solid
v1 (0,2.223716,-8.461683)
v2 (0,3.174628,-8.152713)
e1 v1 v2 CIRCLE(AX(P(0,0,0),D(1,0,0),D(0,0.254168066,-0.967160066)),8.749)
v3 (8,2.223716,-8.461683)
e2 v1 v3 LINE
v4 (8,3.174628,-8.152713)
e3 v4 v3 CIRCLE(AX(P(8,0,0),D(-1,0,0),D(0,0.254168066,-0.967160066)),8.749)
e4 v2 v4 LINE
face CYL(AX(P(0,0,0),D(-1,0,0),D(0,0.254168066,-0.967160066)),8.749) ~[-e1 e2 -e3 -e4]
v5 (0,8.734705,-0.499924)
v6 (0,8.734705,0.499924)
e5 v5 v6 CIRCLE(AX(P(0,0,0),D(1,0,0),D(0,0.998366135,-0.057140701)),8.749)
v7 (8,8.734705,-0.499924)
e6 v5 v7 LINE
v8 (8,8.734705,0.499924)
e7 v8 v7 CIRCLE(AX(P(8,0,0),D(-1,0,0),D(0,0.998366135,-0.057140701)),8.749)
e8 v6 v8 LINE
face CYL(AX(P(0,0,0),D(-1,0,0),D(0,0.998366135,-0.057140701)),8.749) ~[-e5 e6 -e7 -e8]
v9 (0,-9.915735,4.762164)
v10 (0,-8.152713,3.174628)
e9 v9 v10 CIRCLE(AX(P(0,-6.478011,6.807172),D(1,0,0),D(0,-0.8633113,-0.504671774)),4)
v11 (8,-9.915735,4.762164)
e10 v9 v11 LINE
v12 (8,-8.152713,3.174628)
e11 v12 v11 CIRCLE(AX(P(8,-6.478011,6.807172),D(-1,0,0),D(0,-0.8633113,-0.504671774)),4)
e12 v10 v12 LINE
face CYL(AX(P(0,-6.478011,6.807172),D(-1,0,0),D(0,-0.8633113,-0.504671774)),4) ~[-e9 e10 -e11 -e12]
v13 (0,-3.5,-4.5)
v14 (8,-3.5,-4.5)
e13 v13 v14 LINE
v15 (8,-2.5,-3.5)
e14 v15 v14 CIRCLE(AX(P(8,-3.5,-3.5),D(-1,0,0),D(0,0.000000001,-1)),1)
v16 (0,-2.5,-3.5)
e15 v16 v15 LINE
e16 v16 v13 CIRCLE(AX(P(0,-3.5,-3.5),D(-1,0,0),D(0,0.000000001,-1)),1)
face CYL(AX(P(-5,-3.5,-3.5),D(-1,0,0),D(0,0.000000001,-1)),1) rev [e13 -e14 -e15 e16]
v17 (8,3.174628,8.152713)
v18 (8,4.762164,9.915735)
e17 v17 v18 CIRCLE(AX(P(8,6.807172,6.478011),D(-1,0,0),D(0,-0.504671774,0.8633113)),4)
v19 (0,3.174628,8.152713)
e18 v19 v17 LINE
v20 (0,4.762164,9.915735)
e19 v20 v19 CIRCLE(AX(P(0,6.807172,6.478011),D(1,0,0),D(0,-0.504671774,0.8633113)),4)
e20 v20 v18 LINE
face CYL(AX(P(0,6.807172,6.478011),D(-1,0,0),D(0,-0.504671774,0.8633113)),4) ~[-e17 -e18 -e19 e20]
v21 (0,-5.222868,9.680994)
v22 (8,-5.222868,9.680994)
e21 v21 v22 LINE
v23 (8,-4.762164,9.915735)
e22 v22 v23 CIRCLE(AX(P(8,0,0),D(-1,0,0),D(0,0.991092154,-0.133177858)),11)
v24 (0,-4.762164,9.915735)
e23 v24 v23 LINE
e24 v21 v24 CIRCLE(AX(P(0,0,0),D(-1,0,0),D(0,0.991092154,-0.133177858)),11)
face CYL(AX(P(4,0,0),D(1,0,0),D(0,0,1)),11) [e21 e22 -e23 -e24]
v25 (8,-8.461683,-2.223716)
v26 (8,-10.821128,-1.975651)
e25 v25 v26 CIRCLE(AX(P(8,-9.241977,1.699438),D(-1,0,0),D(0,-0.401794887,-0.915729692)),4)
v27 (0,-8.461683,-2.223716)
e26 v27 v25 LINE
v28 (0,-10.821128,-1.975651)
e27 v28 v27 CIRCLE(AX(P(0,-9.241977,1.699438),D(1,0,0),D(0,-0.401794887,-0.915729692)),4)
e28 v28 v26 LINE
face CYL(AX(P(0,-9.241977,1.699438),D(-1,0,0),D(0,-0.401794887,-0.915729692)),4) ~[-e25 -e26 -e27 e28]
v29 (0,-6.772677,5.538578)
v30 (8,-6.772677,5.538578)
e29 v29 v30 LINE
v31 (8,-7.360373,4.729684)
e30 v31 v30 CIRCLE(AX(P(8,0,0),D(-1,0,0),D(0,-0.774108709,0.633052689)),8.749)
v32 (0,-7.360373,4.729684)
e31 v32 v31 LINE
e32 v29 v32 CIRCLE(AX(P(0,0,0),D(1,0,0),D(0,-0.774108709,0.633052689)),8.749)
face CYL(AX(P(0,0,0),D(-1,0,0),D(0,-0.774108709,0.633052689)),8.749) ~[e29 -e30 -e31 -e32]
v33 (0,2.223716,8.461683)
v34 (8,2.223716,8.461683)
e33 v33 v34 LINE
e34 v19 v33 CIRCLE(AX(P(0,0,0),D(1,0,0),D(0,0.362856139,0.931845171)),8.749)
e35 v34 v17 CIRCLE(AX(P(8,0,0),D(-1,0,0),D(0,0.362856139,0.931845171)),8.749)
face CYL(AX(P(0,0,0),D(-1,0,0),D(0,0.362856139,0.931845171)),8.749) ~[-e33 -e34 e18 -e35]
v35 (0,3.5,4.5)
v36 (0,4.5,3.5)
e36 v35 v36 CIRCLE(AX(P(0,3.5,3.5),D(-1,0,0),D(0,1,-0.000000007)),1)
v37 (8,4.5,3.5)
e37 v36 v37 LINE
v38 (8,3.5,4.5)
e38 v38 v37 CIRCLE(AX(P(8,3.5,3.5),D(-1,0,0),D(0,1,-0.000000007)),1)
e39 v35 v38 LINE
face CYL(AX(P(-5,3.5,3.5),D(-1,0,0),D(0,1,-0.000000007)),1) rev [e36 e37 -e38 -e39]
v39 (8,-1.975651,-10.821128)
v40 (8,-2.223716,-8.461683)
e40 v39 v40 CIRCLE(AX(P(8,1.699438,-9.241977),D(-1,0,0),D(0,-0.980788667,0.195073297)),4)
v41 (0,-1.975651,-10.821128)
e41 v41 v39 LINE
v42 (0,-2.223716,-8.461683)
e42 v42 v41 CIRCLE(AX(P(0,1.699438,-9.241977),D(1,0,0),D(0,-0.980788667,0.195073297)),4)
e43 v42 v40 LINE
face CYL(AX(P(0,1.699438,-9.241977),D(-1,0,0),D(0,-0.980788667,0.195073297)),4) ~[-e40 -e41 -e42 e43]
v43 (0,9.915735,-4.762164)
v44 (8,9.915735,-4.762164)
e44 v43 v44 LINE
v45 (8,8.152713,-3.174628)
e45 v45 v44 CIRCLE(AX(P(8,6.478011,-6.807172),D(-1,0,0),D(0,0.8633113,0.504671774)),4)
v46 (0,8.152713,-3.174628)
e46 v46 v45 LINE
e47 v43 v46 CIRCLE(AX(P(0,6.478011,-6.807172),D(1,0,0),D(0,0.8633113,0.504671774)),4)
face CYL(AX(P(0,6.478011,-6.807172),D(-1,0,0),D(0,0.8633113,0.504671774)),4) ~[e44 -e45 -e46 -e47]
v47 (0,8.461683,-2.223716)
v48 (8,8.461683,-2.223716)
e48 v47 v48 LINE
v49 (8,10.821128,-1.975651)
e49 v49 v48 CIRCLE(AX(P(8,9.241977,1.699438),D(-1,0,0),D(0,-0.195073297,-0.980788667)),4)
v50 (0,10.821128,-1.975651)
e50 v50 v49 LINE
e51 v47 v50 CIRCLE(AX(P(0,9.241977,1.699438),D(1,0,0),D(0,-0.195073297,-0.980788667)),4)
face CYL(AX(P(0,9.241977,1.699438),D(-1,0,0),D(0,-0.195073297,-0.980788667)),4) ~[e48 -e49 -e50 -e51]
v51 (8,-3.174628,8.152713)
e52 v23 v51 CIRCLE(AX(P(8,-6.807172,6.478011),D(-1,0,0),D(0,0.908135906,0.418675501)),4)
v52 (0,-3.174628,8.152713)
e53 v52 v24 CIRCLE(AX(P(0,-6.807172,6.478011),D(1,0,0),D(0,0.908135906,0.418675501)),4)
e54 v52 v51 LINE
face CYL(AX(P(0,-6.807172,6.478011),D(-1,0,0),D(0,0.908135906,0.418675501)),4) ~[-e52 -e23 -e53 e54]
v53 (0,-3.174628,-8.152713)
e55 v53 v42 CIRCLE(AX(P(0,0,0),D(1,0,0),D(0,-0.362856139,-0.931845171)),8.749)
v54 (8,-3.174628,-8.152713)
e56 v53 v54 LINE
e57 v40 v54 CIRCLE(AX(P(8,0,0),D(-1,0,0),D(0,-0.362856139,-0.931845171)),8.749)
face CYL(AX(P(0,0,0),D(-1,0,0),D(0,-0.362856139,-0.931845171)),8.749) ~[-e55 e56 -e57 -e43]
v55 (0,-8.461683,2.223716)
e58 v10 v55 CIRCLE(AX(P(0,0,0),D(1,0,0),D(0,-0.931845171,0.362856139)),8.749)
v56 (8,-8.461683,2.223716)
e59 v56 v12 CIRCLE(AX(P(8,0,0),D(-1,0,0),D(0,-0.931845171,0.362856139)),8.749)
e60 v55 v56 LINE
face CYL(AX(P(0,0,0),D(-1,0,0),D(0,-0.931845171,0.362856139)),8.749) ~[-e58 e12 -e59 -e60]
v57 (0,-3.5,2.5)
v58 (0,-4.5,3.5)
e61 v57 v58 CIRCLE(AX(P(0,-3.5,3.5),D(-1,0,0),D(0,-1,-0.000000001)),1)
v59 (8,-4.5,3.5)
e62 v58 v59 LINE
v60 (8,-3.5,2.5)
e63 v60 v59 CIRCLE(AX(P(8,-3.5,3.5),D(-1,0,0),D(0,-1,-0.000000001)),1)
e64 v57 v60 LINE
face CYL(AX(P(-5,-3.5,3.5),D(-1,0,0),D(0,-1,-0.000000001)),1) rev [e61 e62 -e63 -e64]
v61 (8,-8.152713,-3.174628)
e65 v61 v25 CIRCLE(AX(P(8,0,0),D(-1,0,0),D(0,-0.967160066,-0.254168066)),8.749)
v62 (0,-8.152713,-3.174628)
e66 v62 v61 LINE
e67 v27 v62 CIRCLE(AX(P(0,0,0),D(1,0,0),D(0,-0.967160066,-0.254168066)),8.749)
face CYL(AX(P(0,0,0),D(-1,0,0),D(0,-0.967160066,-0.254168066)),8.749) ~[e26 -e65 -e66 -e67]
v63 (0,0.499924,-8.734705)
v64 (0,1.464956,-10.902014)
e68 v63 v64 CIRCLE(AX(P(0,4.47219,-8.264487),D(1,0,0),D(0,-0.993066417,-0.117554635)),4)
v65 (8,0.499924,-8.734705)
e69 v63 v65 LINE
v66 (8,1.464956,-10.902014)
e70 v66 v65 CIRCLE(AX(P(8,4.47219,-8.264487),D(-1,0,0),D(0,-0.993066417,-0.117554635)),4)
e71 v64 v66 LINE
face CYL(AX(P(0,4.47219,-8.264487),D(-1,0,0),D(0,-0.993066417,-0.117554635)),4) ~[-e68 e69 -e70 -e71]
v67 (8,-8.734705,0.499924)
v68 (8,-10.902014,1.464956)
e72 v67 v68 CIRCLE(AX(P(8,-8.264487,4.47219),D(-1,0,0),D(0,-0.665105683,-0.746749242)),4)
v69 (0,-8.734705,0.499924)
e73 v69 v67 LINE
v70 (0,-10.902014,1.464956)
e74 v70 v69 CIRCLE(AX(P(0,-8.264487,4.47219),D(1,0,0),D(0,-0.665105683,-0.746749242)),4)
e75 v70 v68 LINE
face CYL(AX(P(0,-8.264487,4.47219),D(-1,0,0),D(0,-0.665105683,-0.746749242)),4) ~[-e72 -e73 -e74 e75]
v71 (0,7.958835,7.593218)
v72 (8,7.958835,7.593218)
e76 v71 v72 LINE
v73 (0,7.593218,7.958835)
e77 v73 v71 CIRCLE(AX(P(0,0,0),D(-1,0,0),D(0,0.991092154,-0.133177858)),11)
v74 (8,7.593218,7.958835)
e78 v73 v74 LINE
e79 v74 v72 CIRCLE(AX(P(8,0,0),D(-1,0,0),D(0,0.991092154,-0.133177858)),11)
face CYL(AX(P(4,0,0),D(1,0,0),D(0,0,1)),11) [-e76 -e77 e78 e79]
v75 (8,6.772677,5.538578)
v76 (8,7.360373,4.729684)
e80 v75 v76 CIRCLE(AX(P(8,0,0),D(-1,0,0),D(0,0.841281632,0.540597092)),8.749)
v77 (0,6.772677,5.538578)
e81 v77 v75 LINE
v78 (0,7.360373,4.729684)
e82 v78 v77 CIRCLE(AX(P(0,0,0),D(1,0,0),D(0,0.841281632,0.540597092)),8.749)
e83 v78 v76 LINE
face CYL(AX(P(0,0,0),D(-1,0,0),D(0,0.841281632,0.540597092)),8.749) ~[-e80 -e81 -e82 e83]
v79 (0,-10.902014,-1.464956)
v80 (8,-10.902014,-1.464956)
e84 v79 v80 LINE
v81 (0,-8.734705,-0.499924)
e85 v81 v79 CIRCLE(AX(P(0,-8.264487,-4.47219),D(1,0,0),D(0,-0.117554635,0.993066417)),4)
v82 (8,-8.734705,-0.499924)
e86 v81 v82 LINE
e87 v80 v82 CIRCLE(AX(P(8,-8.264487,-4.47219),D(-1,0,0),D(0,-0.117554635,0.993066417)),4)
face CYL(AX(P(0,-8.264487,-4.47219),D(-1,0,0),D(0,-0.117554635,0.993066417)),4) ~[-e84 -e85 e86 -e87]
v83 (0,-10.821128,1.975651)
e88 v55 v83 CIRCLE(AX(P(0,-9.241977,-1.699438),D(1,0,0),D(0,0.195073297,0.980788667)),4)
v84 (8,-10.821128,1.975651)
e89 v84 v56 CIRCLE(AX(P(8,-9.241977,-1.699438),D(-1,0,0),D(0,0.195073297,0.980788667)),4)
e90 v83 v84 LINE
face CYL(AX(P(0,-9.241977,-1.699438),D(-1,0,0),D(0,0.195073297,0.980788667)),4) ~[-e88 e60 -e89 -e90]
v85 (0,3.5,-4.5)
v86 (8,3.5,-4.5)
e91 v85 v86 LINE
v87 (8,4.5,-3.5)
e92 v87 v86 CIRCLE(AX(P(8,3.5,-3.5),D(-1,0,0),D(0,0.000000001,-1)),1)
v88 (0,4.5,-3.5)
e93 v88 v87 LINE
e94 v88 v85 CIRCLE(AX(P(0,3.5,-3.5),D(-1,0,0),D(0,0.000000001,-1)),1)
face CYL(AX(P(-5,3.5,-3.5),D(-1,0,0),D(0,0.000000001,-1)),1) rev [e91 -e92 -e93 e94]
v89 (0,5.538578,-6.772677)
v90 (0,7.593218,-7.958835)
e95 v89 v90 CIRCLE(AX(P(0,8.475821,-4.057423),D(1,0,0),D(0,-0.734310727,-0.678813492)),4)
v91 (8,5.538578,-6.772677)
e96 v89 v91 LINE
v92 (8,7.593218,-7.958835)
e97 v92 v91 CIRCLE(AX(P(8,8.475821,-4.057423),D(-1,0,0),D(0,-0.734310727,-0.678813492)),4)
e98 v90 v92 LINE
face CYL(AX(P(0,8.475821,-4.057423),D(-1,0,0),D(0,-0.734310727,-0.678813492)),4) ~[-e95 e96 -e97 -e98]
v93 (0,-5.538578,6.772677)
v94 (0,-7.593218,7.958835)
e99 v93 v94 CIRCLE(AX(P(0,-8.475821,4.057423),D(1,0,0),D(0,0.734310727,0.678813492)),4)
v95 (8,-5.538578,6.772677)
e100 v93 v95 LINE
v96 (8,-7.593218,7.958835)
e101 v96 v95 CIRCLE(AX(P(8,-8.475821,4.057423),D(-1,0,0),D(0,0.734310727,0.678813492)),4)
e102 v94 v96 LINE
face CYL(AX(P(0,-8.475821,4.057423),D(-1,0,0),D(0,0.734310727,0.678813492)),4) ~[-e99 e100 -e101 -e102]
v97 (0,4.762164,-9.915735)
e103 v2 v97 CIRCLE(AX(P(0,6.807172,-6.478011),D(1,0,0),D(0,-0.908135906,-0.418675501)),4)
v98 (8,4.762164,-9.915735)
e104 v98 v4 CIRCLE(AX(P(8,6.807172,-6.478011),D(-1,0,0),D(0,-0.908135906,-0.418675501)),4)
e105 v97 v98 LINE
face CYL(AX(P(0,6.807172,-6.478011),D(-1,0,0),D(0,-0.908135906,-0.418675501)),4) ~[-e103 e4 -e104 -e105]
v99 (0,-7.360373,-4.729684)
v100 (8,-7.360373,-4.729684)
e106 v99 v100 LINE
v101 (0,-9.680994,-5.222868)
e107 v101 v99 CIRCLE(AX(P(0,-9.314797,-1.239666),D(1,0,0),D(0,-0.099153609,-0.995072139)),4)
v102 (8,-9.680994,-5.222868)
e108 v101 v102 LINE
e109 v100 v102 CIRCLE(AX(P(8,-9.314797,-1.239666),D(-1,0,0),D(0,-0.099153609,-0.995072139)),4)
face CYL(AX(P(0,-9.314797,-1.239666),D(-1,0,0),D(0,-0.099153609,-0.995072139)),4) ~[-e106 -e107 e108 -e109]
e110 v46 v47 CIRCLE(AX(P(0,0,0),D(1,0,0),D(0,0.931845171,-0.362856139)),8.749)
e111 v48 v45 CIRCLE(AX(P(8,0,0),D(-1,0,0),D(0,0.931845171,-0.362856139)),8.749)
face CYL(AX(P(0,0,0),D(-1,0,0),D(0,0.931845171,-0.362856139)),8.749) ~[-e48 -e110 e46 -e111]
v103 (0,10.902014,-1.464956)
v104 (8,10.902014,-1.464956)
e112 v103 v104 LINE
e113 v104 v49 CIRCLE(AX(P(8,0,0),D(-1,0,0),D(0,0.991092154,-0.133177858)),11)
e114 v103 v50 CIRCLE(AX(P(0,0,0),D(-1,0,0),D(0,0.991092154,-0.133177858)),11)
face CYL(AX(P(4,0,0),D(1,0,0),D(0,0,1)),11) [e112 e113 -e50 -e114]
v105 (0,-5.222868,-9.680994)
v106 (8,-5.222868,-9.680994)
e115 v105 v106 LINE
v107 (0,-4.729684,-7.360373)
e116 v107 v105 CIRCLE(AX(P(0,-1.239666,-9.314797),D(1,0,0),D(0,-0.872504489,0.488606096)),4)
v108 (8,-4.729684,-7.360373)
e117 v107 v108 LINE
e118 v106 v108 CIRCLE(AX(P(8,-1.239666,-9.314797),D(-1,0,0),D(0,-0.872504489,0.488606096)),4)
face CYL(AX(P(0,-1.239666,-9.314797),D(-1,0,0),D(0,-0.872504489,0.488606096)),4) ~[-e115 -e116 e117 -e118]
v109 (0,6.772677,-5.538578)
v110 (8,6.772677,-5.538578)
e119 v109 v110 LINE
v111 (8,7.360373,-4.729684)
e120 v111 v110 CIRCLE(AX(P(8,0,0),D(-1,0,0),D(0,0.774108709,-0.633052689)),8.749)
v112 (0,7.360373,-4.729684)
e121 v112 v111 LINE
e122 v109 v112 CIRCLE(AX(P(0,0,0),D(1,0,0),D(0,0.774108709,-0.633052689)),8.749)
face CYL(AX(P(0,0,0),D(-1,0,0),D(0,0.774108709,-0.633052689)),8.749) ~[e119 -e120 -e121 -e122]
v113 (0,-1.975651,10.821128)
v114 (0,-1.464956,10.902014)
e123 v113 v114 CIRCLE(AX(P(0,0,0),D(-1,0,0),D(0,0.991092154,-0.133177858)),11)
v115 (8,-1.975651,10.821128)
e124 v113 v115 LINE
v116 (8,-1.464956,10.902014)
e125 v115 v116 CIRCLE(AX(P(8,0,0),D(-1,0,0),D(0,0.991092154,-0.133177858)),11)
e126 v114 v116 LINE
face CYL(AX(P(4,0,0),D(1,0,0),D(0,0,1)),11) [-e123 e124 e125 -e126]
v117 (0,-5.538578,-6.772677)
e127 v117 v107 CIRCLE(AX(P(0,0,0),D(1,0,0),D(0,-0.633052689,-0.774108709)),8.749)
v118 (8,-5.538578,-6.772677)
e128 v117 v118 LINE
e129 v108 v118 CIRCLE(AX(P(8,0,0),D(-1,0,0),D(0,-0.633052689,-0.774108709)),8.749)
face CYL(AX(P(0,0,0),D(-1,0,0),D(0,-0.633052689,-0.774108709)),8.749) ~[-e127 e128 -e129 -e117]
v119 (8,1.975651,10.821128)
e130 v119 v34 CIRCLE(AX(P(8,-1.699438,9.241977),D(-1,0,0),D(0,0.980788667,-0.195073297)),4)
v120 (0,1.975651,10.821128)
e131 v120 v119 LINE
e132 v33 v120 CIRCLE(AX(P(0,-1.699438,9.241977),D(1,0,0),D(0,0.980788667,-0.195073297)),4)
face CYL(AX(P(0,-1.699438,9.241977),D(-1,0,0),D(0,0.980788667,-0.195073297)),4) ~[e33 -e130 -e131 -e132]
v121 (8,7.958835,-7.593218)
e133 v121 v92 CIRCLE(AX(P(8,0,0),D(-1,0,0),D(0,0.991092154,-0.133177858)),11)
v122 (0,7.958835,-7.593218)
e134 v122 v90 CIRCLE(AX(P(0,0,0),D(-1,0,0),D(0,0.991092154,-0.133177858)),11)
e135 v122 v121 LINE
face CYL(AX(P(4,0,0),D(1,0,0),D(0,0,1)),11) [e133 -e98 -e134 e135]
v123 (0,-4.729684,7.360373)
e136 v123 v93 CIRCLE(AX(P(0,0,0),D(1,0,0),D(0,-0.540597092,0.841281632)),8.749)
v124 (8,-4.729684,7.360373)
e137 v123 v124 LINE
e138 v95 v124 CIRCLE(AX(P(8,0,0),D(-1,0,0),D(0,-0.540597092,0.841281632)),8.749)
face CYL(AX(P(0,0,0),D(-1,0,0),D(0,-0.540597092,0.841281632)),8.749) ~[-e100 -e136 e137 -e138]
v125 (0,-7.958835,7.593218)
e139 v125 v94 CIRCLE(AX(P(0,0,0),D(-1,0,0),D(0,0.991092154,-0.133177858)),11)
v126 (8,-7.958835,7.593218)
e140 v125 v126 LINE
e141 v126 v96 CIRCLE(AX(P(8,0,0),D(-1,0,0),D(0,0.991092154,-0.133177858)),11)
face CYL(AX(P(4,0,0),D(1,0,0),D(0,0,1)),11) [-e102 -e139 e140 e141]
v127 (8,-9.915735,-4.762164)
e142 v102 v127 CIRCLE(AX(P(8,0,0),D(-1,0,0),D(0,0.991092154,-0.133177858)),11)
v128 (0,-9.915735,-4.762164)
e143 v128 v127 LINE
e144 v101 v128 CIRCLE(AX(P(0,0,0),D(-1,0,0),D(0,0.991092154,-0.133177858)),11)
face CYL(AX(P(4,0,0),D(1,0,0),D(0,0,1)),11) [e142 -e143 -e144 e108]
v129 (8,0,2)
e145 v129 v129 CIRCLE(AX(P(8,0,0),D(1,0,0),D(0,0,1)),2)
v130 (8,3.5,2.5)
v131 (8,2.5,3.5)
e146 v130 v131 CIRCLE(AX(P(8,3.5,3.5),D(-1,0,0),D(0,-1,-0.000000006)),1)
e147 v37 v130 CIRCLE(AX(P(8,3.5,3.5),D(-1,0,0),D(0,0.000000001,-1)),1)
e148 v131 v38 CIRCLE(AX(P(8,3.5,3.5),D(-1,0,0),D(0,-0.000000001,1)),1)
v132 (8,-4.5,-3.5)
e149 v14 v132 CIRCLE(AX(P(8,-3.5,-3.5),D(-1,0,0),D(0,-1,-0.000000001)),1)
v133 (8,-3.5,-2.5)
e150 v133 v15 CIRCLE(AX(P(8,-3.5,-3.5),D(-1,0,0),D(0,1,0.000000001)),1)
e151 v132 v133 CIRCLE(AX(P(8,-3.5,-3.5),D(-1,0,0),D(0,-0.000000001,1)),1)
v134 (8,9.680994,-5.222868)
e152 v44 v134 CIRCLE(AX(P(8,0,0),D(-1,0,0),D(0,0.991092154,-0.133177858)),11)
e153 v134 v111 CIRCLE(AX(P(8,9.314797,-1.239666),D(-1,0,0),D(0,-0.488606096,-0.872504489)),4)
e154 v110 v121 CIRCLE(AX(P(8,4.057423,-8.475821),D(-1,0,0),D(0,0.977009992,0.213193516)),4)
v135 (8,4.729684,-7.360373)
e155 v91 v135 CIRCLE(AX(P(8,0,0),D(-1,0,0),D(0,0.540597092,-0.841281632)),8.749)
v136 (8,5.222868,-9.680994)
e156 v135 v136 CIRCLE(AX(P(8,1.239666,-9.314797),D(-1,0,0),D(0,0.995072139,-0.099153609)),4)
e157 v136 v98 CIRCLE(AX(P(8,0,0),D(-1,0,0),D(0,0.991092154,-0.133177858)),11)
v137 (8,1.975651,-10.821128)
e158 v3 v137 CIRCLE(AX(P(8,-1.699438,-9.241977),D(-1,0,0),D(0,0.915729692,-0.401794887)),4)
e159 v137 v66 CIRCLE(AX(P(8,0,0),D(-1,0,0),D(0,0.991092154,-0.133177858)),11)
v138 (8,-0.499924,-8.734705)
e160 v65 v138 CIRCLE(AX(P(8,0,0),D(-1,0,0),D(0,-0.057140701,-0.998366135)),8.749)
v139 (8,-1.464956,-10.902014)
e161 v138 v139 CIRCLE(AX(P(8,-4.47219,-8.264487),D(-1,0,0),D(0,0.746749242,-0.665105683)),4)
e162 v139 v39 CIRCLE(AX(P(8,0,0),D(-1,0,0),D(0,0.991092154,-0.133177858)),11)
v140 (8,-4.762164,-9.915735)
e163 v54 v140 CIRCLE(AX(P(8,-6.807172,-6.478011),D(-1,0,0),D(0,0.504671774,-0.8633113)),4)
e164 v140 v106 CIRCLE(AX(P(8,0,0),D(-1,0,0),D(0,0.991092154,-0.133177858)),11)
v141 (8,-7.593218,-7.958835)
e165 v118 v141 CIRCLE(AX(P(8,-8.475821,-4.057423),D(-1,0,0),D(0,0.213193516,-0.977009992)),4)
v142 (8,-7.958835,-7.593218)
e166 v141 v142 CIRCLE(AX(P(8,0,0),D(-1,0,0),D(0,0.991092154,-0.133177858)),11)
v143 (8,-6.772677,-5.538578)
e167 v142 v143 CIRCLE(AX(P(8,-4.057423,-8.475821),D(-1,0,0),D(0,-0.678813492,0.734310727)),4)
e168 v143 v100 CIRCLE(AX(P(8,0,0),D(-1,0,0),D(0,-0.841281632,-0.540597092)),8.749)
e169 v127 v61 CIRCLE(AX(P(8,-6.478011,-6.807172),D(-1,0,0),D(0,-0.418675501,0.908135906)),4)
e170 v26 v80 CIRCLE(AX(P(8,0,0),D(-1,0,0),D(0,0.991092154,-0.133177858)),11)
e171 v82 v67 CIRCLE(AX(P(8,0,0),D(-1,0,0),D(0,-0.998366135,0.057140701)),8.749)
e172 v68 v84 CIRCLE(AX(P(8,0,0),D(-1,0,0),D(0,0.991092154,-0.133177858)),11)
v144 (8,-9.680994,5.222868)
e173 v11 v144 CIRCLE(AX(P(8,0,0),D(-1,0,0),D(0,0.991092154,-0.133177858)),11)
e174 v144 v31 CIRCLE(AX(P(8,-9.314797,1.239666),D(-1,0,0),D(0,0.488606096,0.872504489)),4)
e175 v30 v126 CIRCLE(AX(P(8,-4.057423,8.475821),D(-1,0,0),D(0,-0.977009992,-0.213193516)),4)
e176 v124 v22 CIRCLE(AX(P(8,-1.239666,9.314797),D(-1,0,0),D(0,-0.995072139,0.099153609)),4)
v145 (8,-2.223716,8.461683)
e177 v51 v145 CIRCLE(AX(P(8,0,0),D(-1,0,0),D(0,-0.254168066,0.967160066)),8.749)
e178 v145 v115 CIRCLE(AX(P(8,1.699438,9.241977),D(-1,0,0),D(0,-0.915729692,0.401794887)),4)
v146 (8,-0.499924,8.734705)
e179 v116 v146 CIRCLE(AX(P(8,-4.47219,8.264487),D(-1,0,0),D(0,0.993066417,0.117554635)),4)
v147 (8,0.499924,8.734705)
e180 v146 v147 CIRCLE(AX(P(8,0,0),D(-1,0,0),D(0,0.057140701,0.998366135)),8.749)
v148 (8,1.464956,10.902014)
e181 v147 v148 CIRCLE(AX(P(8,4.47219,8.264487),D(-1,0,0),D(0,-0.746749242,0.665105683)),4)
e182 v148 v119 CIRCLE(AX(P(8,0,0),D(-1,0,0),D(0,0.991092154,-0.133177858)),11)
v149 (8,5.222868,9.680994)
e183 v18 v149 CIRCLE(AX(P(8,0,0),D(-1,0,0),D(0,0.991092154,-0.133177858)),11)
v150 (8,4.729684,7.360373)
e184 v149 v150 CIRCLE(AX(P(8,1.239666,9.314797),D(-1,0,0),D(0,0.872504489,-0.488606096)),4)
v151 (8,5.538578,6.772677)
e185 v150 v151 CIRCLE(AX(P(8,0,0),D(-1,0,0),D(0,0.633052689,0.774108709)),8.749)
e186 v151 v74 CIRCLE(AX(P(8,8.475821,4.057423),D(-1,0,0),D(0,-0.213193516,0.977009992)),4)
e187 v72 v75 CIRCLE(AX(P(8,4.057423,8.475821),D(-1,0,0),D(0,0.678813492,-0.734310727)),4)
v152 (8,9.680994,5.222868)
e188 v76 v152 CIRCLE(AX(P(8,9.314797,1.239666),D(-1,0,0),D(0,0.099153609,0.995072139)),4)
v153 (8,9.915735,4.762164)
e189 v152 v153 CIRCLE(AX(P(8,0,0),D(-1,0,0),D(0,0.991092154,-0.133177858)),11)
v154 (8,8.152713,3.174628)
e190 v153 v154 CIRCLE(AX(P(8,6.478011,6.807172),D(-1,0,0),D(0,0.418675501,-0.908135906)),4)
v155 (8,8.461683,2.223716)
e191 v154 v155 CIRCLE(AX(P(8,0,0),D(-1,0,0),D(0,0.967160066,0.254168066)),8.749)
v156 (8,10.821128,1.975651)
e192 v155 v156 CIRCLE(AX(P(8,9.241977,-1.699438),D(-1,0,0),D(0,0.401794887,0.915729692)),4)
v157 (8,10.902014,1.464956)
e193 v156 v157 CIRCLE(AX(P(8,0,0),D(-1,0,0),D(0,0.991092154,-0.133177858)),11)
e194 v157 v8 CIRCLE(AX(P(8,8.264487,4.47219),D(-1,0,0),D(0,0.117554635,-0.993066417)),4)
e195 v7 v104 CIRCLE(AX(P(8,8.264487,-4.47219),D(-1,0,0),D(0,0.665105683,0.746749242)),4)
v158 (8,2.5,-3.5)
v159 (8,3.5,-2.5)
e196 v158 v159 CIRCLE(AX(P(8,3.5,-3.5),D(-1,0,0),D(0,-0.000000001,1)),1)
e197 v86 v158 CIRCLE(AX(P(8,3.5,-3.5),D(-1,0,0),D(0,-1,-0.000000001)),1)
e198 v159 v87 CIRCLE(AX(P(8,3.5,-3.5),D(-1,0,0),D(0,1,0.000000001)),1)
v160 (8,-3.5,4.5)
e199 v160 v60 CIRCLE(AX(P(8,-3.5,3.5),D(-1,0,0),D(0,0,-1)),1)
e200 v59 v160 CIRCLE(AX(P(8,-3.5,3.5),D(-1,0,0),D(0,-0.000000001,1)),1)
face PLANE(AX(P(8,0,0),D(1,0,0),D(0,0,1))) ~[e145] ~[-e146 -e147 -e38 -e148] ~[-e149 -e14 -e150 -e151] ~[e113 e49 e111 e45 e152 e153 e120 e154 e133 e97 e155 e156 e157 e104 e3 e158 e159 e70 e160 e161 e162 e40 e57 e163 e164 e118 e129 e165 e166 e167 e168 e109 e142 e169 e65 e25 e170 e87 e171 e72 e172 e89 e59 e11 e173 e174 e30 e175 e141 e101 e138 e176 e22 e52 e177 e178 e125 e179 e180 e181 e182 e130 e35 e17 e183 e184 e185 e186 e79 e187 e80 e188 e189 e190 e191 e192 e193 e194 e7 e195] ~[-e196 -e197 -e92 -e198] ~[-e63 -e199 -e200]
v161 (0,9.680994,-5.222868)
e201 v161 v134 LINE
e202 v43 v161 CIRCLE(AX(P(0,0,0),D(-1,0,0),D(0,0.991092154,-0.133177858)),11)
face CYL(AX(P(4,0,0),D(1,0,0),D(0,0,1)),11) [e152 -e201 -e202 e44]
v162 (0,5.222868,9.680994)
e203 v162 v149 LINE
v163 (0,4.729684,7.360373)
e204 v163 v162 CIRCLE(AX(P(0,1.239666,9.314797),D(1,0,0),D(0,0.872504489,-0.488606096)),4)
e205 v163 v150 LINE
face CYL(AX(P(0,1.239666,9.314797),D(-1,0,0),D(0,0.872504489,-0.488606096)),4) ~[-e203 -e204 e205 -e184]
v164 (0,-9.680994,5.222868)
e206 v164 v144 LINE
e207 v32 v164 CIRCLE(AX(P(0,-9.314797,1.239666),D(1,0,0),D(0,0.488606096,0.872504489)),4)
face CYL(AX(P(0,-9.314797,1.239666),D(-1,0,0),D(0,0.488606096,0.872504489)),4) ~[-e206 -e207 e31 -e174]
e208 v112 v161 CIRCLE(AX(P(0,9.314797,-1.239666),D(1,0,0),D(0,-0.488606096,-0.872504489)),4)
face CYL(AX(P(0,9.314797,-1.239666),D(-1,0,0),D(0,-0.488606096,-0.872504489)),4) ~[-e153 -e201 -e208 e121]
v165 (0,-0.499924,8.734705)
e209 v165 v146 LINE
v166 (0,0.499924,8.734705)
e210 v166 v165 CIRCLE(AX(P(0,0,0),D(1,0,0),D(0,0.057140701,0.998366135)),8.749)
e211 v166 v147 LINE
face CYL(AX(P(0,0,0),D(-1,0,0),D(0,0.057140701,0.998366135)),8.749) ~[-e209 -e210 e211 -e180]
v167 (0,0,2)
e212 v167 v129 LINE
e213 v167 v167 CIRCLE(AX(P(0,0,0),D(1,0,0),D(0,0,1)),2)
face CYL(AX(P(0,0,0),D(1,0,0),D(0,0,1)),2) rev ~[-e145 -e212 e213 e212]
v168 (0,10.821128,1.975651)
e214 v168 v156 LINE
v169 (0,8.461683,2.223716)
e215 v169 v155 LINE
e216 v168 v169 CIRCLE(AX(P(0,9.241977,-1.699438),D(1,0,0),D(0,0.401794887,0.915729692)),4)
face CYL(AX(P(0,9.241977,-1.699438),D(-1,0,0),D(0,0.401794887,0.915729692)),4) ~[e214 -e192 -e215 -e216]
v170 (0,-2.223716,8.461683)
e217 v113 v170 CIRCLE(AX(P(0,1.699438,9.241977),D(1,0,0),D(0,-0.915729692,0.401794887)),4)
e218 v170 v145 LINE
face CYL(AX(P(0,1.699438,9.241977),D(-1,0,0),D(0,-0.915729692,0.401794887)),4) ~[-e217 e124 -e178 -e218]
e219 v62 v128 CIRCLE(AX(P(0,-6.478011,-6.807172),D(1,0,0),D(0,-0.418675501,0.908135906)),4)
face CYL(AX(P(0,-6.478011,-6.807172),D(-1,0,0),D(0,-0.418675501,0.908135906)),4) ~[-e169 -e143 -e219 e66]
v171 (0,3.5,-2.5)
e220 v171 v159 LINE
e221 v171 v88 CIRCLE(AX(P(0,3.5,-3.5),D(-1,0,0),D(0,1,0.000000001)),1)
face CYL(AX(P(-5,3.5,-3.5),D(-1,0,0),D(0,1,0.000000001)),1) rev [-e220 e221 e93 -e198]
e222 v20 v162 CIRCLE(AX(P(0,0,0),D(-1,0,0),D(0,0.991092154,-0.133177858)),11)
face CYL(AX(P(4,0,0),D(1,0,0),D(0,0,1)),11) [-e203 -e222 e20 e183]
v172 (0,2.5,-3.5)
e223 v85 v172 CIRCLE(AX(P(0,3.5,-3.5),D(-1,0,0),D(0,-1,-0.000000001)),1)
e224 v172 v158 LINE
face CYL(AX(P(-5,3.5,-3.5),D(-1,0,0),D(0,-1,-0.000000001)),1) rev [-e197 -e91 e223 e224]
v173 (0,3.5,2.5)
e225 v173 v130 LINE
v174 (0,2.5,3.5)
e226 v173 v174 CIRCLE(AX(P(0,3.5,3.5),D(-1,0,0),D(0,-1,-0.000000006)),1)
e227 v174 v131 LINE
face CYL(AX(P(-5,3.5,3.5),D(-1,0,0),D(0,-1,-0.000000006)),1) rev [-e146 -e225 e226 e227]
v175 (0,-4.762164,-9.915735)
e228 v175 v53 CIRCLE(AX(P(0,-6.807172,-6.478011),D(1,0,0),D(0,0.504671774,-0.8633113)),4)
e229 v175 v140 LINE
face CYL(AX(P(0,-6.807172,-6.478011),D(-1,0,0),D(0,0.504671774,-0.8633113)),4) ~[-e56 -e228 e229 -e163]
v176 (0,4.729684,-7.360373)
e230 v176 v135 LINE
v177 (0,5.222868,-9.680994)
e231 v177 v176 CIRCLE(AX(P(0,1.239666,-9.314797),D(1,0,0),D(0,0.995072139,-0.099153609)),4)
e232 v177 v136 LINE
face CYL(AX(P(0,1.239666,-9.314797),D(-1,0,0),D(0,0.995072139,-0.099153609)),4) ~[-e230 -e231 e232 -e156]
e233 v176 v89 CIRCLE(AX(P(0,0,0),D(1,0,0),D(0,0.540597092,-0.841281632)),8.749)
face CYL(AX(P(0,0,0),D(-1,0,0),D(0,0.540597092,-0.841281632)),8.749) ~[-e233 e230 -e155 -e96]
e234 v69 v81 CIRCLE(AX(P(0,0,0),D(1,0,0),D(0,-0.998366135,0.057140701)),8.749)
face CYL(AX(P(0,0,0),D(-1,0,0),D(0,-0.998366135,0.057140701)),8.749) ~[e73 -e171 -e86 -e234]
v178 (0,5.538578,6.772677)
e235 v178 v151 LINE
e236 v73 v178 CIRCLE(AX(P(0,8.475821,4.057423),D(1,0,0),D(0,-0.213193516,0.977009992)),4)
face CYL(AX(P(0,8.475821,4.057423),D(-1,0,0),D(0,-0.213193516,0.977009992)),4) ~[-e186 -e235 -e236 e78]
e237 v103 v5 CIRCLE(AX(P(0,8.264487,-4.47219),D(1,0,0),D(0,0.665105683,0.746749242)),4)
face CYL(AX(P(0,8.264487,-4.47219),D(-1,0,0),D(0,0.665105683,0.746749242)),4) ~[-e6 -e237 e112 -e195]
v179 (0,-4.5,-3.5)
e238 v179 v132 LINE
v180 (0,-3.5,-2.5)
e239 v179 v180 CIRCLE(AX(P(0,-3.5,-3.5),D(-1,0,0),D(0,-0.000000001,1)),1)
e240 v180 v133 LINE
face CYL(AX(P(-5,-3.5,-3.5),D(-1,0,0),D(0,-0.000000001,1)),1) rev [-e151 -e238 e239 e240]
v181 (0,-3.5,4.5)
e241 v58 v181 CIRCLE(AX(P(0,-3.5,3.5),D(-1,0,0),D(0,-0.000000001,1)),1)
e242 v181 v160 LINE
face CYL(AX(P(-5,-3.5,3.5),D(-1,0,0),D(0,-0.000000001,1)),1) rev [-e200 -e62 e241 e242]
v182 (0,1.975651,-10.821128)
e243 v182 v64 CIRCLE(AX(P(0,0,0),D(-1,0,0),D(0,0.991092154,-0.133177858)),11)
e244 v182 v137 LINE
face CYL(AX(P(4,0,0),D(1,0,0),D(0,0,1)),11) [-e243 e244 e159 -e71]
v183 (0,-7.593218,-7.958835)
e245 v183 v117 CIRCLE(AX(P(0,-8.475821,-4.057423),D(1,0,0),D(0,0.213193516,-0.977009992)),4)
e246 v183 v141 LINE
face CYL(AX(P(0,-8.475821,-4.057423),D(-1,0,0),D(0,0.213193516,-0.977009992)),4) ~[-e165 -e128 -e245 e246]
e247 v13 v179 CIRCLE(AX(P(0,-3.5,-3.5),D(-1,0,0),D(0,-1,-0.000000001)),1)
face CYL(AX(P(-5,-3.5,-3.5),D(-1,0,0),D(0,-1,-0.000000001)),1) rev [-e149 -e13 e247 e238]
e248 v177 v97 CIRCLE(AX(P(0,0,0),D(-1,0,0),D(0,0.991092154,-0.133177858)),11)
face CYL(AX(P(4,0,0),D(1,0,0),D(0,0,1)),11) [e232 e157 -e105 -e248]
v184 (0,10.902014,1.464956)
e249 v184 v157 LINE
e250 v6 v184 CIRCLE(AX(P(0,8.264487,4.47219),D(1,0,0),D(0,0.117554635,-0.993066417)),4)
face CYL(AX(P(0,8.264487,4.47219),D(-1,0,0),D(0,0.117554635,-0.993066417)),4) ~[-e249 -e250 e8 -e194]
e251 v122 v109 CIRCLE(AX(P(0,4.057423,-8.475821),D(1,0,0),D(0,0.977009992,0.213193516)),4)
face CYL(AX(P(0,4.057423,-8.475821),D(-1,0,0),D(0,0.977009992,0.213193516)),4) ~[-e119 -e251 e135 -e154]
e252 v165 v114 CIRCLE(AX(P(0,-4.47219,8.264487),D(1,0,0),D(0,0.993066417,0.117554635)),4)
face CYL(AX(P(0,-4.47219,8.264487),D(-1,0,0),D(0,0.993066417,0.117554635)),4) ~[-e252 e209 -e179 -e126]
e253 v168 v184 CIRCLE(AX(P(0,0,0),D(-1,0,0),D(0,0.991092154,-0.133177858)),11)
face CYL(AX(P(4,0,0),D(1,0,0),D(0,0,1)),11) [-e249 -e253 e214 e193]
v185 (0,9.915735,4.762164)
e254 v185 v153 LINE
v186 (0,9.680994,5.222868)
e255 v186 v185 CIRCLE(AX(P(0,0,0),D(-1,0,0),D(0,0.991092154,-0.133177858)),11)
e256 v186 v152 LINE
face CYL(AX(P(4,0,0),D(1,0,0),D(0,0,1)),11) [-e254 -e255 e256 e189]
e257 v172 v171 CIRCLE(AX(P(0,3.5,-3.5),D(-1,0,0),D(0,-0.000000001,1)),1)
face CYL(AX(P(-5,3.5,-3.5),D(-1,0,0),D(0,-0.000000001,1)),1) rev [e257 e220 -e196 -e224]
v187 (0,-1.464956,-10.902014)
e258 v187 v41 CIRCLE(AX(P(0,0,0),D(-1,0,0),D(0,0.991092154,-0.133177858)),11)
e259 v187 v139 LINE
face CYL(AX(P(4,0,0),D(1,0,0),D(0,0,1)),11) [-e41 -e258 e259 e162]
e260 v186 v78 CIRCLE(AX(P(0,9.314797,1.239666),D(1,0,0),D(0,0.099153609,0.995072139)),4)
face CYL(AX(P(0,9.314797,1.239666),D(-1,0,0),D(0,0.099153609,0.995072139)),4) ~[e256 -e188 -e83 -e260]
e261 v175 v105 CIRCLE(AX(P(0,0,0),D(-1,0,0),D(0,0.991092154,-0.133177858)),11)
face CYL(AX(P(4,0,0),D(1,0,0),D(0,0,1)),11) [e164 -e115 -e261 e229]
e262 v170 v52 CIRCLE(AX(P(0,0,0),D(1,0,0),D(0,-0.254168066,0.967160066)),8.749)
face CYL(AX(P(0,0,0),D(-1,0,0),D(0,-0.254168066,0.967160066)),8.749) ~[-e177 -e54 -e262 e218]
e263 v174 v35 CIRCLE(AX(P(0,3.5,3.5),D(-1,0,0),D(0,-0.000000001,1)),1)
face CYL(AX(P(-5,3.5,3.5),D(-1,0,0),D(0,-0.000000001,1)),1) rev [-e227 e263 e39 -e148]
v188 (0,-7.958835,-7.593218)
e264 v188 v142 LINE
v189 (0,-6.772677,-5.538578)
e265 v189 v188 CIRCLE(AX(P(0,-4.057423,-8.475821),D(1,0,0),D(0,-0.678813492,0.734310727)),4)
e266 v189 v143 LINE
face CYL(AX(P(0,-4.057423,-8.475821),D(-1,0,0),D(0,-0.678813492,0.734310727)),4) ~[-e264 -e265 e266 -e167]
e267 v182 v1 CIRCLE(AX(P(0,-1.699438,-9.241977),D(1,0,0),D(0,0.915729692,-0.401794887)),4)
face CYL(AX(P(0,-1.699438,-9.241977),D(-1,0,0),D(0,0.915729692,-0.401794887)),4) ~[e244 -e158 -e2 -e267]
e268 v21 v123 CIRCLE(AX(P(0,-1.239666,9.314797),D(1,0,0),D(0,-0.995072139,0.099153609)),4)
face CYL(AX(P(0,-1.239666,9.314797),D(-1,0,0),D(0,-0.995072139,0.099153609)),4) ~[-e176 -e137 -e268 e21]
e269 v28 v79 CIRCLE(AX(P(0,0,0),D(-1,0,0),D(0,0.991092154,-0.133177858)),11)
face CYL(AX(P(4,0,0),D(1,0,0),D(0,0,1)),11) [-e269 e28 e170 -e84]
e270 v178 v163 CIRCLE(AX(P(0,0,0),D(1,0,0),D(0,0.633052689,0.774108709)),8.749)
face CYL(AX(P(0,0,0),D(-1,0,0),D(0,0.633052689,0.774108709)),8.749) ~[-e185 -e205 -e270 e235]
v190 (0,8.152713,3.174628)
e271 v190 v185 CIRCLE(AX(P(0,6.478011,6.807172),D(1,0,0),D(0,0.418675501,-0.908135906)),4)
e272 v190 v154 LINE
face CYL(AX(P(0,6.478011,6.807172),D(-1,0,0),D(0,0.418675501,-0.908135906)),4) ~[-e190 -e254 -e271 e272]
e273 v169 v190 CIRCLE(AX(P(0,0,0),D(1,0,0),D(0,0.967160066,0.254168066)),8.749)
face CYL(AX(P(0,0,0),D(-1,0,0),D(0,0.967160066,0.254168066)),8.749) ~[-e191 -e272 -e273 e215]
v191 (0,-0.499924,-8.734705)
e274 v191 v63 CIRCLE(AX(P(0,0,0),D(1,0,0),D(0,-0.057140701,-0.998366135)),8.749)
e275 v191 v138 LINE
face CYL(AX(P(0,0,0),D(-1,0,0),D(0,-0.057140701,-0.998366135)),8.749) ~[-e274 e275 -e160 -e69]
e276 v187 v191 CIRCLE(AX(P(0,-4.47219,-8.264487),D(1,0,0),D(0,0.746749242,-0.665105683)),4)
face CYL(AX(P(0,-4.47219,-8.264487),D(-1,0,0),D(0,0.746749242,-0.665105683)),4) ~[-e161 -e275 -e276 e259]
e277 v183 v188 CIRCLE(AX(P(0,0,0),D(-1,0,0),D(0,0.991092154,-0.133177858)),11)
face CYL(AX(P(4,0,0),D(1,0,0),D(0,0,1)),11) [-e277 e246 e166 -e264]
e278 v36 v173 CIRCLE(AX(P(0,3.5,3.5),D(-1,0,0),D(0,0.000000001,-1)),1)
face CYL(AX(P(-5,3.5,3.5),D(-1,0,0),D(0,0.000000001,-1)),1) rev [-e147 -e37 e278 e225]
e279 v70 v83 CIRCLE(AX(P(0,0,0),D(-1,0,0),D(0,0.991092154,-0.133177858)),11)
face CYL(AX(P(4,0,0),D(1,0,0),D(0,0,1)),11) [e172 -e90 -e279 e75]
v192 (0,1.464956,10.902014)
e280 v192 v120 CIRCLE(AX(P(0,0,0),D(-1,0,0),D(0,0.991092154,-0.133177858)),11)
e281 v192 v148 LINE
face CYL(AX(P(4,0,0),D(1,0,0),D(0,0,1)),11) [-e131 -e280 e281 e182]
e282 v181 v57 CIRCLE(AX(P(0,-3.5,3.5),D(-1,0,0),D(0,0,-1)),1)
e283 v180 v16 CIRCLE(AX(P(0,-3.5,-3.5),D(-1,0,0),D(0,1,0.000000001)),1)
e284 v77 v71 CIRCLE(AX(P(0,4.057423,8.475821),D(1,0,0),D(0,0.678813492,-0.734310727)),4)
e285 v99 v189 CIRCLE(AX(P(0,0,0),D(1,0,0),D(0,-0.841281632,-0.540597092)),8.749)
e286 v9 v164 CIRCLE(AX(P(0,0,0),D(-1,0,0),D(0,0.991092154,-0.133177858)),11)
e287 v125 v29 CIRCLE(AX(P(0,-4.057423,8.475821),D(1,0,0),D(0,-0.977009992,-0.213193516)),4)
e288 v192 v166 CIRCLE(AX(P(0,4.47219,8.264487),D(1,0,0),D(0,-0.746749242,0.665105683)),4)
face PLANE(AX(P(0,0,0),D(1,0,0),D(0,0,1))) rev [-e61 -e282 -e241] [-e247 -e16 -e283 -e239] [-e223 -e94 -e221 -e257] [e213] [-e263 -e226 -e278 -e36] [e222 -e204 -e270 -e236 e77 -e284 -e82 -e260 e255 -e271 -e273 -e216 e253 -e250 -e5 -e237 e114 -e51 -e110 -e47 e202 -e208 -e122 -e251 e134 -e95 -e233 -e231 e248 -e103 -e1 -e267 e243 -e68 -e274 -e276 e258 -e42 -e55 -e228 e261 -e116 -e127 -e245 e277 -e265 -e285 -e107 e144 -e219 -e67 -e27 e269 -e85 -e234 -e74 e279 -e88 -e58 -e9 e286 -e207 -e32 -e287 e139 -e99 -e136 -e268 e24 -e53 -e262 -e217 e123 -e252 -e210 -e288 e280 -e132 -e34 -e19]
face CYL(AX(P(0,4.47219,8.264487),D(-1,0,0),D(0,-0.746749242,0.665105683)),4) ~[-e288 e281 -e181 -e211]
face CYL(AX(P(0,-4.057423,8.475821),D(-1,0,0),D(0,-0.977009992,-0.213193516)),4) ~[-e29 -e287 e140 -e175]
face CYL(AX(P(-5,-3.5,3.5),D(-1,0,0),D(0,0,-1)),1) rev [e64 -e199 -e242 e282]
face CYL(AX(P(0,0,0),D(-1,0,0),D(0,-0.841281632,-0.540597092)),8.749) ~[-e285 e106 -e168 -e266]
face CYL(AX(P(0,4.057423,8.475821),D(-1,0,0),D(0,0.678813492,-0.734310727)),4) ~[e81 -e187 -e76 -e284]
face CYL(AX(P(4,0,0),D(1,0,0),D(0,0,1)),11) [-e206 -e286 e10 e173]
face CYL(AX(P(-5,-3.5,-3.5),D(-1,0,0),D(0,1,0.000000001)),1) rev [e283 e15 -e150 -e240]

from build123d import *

# Parameters (mm, degrees)
BASPROSKE_W             = 8
BASPROSKE_H             = 11
TOOTHCUT_DEPTH          = 18.492855685
TEETHCUTS_COUNT         = 20
TEETHCUTS_ANGLE         = 342
BORSKE_R                = 2
BORE_DEPTH              = 50.0000508
CUT_EXTRUDE1_DEPTH      = 6
CUT_EXTRUDE1_DEPTH_BACK = 13


with BuildPart() as part:
    # BasProSke → Base-Revolve (revolve)
    with BuildSketch(Plane(origin=(0, 0, 0), x_dir=(1, 0, 0), z_dir=(0, 1, 0)), mode=Mode.PRIVATE) as base_revolve_sk:
        with Locations((4, 5.5)):
            Rectangle(BASPROSKE_W, BASPROSKE_H)
    revolve(base_revolve_sk.sketch.rotate(Axis((-10, 0, 0), (1, 0, 0)), 180), axis=Axis((-10, 0, 0), (1, 0, 0)))

    # TooCutSke → ToothCut (cut, through all)
    with BuildSketch(Plane(origin=(0, 0, 0), x_dir=(0, 0, -1), z_dir=(1, 0, 0))):
        with BuildLine():
            ThreePointArc((0.499924007, 8.734705318), (0, 8.749), (-0.499924007, 8.734705318))
            ThreePointArc((-0.499924007, 8.734705318), (-0.824302243, 9.905497836), (-1.485192705, 10.924909509))
            ThreePointArc((-1.485192705, 10.924909509), (0, 11.0254), (1.485192705, 10.924909509))
            ThreePointArc((1.485192705, 10.924909509), (0.824302243, 9.905497836), (0.499924007, 8.734705318))
        make_face()
    toothcut = extrude(amount=TOOTHCUT_DEPTH, mode=Mode.SUBTRACT)

    # TeethCuts: ToothCut ×20 about axis
    teethcuts_axis = Axis((-10, 0, 0), (1, 0, 0))
    for i in range(1, TEETHCUTS_COUNT):
        add(toothcut.rotate(teethcuts_axis, i * TEETHCUTS_ANGLE / (TEETHCUTS_COUNT - 1)), mode=Mode.SUBTRACT)

    # BorSke → Bore (cut, symmetric)
    with BuildSketch(Plane(origin=(0, 0, 0), x_dir=(0, 0, -1), z_dir=(1, 0, 0))):
        with Locations(Location((0, 0, 0), (0, 0, 180))):
            Circle(BORSKE_R)
    extrude(amount=BORE_DEPTH, both=True, mode=Mode.SUBTRACT)

    # Sketch1 → Cut-Extrude1 (cut, two sides: drawn at the far end of the back side and taken through both)
    with BuildSketch(Plane(origin=(8, 0, 0), x_dir=(0, 0, -1), z_dir=(1, 0, 0)).offset(-CUT_EXTRUDE1_DEPTH_BACK)):
        with BuildLine():
            ThreePointArc((-2.5, -3.5), (-3.5, -2.5), (-4.5, -3.5))
            Line((-4.5, -3.5), (-2.5, -3.5))
        make_face()
        with BuildLine():
            Line((-2.5, -3.5), (-4.5, -3.5))
            ThreePointArc((-4.5, -3.5), (-4.207106781, -4.207106781), (-3.5, -4.5))
            ThreePointArc((-3.5, -4.5), (-2.792893219, -4.207106781), (-2.5, -3.5))
        make_face()
        with BuildLine():
            ThreePointArc((-3.499999992, 4.5), (-4.207106778, 4.207106784), (-4.5, 3.5))
            Line((-4.5, 3.5), (-2.5, 3.5))
            ThreePointArc((-2.5, 3.5), (-2.792893216, 4.207106778), (-3.499999992, 4.5))
        make_face()
        with BuildLine():
            Line((-2.5, 3.5), (-4.5, 3.5))
            ThreePointArc((-4.5, 3.5), (-4.207106779, 2.792893217), (-3.499999995, 2.5))
            ThreePointArc((-3.499999995, 2.5), (-2.792893217, 2.792893221), (-2.5, 3.5))
        make_face()
        with BuildLine():
            ThreePointArc((3.5, 2.5), (4.207106781, 2.792893219), (4.5, 3.5))
            Line((4.5, 3.5), (2.5, 3.5))
            ThreePointArc((2.5, 3.5), (2.792893219, 2.792893219), (3.5, 2.5))
        make_face()
        with BuildLine():
            Line((2.5, 3.5), (4.5, 3.5))
            ThreePointArc((4.5, 3.5), (4.207106781, 4.207106781), (3.5, 4.5))
            ThreePointArc((3.5, 4.5), (2.792893219, 4.207106781), (2.5, 3.5))
        make_face()
        with BuildLine():
            ThreePointArc((3.5, -4.5), (4.207106781, -4.207106781), (4.5, -3.5))
            Line((4.5, -3.5), (2.5, -3.5))
            ThreePointArc((2.5, -3.5), (2.792893219, -4.207106781), (3.5, -4.5))
        make_face()
        with BuildLine():
            Line((2.5, -3.5), (4.5, -3.5))
            ThreePointArc((4.5, -3.5), (4.207106781, -2.792893219), (3.5, -2.5))
            ThreePointArc((3.5, -2.5), (2.792893219, -2.792893219), (2.5, -3.5))
        make_face()
    extrude(amount=CUT_EXTRUDE1_DEPTH + CUT_EXTRUDE1_DEPTH_BACK, mode=Mode.SUBTRACT)


solid = part.part
